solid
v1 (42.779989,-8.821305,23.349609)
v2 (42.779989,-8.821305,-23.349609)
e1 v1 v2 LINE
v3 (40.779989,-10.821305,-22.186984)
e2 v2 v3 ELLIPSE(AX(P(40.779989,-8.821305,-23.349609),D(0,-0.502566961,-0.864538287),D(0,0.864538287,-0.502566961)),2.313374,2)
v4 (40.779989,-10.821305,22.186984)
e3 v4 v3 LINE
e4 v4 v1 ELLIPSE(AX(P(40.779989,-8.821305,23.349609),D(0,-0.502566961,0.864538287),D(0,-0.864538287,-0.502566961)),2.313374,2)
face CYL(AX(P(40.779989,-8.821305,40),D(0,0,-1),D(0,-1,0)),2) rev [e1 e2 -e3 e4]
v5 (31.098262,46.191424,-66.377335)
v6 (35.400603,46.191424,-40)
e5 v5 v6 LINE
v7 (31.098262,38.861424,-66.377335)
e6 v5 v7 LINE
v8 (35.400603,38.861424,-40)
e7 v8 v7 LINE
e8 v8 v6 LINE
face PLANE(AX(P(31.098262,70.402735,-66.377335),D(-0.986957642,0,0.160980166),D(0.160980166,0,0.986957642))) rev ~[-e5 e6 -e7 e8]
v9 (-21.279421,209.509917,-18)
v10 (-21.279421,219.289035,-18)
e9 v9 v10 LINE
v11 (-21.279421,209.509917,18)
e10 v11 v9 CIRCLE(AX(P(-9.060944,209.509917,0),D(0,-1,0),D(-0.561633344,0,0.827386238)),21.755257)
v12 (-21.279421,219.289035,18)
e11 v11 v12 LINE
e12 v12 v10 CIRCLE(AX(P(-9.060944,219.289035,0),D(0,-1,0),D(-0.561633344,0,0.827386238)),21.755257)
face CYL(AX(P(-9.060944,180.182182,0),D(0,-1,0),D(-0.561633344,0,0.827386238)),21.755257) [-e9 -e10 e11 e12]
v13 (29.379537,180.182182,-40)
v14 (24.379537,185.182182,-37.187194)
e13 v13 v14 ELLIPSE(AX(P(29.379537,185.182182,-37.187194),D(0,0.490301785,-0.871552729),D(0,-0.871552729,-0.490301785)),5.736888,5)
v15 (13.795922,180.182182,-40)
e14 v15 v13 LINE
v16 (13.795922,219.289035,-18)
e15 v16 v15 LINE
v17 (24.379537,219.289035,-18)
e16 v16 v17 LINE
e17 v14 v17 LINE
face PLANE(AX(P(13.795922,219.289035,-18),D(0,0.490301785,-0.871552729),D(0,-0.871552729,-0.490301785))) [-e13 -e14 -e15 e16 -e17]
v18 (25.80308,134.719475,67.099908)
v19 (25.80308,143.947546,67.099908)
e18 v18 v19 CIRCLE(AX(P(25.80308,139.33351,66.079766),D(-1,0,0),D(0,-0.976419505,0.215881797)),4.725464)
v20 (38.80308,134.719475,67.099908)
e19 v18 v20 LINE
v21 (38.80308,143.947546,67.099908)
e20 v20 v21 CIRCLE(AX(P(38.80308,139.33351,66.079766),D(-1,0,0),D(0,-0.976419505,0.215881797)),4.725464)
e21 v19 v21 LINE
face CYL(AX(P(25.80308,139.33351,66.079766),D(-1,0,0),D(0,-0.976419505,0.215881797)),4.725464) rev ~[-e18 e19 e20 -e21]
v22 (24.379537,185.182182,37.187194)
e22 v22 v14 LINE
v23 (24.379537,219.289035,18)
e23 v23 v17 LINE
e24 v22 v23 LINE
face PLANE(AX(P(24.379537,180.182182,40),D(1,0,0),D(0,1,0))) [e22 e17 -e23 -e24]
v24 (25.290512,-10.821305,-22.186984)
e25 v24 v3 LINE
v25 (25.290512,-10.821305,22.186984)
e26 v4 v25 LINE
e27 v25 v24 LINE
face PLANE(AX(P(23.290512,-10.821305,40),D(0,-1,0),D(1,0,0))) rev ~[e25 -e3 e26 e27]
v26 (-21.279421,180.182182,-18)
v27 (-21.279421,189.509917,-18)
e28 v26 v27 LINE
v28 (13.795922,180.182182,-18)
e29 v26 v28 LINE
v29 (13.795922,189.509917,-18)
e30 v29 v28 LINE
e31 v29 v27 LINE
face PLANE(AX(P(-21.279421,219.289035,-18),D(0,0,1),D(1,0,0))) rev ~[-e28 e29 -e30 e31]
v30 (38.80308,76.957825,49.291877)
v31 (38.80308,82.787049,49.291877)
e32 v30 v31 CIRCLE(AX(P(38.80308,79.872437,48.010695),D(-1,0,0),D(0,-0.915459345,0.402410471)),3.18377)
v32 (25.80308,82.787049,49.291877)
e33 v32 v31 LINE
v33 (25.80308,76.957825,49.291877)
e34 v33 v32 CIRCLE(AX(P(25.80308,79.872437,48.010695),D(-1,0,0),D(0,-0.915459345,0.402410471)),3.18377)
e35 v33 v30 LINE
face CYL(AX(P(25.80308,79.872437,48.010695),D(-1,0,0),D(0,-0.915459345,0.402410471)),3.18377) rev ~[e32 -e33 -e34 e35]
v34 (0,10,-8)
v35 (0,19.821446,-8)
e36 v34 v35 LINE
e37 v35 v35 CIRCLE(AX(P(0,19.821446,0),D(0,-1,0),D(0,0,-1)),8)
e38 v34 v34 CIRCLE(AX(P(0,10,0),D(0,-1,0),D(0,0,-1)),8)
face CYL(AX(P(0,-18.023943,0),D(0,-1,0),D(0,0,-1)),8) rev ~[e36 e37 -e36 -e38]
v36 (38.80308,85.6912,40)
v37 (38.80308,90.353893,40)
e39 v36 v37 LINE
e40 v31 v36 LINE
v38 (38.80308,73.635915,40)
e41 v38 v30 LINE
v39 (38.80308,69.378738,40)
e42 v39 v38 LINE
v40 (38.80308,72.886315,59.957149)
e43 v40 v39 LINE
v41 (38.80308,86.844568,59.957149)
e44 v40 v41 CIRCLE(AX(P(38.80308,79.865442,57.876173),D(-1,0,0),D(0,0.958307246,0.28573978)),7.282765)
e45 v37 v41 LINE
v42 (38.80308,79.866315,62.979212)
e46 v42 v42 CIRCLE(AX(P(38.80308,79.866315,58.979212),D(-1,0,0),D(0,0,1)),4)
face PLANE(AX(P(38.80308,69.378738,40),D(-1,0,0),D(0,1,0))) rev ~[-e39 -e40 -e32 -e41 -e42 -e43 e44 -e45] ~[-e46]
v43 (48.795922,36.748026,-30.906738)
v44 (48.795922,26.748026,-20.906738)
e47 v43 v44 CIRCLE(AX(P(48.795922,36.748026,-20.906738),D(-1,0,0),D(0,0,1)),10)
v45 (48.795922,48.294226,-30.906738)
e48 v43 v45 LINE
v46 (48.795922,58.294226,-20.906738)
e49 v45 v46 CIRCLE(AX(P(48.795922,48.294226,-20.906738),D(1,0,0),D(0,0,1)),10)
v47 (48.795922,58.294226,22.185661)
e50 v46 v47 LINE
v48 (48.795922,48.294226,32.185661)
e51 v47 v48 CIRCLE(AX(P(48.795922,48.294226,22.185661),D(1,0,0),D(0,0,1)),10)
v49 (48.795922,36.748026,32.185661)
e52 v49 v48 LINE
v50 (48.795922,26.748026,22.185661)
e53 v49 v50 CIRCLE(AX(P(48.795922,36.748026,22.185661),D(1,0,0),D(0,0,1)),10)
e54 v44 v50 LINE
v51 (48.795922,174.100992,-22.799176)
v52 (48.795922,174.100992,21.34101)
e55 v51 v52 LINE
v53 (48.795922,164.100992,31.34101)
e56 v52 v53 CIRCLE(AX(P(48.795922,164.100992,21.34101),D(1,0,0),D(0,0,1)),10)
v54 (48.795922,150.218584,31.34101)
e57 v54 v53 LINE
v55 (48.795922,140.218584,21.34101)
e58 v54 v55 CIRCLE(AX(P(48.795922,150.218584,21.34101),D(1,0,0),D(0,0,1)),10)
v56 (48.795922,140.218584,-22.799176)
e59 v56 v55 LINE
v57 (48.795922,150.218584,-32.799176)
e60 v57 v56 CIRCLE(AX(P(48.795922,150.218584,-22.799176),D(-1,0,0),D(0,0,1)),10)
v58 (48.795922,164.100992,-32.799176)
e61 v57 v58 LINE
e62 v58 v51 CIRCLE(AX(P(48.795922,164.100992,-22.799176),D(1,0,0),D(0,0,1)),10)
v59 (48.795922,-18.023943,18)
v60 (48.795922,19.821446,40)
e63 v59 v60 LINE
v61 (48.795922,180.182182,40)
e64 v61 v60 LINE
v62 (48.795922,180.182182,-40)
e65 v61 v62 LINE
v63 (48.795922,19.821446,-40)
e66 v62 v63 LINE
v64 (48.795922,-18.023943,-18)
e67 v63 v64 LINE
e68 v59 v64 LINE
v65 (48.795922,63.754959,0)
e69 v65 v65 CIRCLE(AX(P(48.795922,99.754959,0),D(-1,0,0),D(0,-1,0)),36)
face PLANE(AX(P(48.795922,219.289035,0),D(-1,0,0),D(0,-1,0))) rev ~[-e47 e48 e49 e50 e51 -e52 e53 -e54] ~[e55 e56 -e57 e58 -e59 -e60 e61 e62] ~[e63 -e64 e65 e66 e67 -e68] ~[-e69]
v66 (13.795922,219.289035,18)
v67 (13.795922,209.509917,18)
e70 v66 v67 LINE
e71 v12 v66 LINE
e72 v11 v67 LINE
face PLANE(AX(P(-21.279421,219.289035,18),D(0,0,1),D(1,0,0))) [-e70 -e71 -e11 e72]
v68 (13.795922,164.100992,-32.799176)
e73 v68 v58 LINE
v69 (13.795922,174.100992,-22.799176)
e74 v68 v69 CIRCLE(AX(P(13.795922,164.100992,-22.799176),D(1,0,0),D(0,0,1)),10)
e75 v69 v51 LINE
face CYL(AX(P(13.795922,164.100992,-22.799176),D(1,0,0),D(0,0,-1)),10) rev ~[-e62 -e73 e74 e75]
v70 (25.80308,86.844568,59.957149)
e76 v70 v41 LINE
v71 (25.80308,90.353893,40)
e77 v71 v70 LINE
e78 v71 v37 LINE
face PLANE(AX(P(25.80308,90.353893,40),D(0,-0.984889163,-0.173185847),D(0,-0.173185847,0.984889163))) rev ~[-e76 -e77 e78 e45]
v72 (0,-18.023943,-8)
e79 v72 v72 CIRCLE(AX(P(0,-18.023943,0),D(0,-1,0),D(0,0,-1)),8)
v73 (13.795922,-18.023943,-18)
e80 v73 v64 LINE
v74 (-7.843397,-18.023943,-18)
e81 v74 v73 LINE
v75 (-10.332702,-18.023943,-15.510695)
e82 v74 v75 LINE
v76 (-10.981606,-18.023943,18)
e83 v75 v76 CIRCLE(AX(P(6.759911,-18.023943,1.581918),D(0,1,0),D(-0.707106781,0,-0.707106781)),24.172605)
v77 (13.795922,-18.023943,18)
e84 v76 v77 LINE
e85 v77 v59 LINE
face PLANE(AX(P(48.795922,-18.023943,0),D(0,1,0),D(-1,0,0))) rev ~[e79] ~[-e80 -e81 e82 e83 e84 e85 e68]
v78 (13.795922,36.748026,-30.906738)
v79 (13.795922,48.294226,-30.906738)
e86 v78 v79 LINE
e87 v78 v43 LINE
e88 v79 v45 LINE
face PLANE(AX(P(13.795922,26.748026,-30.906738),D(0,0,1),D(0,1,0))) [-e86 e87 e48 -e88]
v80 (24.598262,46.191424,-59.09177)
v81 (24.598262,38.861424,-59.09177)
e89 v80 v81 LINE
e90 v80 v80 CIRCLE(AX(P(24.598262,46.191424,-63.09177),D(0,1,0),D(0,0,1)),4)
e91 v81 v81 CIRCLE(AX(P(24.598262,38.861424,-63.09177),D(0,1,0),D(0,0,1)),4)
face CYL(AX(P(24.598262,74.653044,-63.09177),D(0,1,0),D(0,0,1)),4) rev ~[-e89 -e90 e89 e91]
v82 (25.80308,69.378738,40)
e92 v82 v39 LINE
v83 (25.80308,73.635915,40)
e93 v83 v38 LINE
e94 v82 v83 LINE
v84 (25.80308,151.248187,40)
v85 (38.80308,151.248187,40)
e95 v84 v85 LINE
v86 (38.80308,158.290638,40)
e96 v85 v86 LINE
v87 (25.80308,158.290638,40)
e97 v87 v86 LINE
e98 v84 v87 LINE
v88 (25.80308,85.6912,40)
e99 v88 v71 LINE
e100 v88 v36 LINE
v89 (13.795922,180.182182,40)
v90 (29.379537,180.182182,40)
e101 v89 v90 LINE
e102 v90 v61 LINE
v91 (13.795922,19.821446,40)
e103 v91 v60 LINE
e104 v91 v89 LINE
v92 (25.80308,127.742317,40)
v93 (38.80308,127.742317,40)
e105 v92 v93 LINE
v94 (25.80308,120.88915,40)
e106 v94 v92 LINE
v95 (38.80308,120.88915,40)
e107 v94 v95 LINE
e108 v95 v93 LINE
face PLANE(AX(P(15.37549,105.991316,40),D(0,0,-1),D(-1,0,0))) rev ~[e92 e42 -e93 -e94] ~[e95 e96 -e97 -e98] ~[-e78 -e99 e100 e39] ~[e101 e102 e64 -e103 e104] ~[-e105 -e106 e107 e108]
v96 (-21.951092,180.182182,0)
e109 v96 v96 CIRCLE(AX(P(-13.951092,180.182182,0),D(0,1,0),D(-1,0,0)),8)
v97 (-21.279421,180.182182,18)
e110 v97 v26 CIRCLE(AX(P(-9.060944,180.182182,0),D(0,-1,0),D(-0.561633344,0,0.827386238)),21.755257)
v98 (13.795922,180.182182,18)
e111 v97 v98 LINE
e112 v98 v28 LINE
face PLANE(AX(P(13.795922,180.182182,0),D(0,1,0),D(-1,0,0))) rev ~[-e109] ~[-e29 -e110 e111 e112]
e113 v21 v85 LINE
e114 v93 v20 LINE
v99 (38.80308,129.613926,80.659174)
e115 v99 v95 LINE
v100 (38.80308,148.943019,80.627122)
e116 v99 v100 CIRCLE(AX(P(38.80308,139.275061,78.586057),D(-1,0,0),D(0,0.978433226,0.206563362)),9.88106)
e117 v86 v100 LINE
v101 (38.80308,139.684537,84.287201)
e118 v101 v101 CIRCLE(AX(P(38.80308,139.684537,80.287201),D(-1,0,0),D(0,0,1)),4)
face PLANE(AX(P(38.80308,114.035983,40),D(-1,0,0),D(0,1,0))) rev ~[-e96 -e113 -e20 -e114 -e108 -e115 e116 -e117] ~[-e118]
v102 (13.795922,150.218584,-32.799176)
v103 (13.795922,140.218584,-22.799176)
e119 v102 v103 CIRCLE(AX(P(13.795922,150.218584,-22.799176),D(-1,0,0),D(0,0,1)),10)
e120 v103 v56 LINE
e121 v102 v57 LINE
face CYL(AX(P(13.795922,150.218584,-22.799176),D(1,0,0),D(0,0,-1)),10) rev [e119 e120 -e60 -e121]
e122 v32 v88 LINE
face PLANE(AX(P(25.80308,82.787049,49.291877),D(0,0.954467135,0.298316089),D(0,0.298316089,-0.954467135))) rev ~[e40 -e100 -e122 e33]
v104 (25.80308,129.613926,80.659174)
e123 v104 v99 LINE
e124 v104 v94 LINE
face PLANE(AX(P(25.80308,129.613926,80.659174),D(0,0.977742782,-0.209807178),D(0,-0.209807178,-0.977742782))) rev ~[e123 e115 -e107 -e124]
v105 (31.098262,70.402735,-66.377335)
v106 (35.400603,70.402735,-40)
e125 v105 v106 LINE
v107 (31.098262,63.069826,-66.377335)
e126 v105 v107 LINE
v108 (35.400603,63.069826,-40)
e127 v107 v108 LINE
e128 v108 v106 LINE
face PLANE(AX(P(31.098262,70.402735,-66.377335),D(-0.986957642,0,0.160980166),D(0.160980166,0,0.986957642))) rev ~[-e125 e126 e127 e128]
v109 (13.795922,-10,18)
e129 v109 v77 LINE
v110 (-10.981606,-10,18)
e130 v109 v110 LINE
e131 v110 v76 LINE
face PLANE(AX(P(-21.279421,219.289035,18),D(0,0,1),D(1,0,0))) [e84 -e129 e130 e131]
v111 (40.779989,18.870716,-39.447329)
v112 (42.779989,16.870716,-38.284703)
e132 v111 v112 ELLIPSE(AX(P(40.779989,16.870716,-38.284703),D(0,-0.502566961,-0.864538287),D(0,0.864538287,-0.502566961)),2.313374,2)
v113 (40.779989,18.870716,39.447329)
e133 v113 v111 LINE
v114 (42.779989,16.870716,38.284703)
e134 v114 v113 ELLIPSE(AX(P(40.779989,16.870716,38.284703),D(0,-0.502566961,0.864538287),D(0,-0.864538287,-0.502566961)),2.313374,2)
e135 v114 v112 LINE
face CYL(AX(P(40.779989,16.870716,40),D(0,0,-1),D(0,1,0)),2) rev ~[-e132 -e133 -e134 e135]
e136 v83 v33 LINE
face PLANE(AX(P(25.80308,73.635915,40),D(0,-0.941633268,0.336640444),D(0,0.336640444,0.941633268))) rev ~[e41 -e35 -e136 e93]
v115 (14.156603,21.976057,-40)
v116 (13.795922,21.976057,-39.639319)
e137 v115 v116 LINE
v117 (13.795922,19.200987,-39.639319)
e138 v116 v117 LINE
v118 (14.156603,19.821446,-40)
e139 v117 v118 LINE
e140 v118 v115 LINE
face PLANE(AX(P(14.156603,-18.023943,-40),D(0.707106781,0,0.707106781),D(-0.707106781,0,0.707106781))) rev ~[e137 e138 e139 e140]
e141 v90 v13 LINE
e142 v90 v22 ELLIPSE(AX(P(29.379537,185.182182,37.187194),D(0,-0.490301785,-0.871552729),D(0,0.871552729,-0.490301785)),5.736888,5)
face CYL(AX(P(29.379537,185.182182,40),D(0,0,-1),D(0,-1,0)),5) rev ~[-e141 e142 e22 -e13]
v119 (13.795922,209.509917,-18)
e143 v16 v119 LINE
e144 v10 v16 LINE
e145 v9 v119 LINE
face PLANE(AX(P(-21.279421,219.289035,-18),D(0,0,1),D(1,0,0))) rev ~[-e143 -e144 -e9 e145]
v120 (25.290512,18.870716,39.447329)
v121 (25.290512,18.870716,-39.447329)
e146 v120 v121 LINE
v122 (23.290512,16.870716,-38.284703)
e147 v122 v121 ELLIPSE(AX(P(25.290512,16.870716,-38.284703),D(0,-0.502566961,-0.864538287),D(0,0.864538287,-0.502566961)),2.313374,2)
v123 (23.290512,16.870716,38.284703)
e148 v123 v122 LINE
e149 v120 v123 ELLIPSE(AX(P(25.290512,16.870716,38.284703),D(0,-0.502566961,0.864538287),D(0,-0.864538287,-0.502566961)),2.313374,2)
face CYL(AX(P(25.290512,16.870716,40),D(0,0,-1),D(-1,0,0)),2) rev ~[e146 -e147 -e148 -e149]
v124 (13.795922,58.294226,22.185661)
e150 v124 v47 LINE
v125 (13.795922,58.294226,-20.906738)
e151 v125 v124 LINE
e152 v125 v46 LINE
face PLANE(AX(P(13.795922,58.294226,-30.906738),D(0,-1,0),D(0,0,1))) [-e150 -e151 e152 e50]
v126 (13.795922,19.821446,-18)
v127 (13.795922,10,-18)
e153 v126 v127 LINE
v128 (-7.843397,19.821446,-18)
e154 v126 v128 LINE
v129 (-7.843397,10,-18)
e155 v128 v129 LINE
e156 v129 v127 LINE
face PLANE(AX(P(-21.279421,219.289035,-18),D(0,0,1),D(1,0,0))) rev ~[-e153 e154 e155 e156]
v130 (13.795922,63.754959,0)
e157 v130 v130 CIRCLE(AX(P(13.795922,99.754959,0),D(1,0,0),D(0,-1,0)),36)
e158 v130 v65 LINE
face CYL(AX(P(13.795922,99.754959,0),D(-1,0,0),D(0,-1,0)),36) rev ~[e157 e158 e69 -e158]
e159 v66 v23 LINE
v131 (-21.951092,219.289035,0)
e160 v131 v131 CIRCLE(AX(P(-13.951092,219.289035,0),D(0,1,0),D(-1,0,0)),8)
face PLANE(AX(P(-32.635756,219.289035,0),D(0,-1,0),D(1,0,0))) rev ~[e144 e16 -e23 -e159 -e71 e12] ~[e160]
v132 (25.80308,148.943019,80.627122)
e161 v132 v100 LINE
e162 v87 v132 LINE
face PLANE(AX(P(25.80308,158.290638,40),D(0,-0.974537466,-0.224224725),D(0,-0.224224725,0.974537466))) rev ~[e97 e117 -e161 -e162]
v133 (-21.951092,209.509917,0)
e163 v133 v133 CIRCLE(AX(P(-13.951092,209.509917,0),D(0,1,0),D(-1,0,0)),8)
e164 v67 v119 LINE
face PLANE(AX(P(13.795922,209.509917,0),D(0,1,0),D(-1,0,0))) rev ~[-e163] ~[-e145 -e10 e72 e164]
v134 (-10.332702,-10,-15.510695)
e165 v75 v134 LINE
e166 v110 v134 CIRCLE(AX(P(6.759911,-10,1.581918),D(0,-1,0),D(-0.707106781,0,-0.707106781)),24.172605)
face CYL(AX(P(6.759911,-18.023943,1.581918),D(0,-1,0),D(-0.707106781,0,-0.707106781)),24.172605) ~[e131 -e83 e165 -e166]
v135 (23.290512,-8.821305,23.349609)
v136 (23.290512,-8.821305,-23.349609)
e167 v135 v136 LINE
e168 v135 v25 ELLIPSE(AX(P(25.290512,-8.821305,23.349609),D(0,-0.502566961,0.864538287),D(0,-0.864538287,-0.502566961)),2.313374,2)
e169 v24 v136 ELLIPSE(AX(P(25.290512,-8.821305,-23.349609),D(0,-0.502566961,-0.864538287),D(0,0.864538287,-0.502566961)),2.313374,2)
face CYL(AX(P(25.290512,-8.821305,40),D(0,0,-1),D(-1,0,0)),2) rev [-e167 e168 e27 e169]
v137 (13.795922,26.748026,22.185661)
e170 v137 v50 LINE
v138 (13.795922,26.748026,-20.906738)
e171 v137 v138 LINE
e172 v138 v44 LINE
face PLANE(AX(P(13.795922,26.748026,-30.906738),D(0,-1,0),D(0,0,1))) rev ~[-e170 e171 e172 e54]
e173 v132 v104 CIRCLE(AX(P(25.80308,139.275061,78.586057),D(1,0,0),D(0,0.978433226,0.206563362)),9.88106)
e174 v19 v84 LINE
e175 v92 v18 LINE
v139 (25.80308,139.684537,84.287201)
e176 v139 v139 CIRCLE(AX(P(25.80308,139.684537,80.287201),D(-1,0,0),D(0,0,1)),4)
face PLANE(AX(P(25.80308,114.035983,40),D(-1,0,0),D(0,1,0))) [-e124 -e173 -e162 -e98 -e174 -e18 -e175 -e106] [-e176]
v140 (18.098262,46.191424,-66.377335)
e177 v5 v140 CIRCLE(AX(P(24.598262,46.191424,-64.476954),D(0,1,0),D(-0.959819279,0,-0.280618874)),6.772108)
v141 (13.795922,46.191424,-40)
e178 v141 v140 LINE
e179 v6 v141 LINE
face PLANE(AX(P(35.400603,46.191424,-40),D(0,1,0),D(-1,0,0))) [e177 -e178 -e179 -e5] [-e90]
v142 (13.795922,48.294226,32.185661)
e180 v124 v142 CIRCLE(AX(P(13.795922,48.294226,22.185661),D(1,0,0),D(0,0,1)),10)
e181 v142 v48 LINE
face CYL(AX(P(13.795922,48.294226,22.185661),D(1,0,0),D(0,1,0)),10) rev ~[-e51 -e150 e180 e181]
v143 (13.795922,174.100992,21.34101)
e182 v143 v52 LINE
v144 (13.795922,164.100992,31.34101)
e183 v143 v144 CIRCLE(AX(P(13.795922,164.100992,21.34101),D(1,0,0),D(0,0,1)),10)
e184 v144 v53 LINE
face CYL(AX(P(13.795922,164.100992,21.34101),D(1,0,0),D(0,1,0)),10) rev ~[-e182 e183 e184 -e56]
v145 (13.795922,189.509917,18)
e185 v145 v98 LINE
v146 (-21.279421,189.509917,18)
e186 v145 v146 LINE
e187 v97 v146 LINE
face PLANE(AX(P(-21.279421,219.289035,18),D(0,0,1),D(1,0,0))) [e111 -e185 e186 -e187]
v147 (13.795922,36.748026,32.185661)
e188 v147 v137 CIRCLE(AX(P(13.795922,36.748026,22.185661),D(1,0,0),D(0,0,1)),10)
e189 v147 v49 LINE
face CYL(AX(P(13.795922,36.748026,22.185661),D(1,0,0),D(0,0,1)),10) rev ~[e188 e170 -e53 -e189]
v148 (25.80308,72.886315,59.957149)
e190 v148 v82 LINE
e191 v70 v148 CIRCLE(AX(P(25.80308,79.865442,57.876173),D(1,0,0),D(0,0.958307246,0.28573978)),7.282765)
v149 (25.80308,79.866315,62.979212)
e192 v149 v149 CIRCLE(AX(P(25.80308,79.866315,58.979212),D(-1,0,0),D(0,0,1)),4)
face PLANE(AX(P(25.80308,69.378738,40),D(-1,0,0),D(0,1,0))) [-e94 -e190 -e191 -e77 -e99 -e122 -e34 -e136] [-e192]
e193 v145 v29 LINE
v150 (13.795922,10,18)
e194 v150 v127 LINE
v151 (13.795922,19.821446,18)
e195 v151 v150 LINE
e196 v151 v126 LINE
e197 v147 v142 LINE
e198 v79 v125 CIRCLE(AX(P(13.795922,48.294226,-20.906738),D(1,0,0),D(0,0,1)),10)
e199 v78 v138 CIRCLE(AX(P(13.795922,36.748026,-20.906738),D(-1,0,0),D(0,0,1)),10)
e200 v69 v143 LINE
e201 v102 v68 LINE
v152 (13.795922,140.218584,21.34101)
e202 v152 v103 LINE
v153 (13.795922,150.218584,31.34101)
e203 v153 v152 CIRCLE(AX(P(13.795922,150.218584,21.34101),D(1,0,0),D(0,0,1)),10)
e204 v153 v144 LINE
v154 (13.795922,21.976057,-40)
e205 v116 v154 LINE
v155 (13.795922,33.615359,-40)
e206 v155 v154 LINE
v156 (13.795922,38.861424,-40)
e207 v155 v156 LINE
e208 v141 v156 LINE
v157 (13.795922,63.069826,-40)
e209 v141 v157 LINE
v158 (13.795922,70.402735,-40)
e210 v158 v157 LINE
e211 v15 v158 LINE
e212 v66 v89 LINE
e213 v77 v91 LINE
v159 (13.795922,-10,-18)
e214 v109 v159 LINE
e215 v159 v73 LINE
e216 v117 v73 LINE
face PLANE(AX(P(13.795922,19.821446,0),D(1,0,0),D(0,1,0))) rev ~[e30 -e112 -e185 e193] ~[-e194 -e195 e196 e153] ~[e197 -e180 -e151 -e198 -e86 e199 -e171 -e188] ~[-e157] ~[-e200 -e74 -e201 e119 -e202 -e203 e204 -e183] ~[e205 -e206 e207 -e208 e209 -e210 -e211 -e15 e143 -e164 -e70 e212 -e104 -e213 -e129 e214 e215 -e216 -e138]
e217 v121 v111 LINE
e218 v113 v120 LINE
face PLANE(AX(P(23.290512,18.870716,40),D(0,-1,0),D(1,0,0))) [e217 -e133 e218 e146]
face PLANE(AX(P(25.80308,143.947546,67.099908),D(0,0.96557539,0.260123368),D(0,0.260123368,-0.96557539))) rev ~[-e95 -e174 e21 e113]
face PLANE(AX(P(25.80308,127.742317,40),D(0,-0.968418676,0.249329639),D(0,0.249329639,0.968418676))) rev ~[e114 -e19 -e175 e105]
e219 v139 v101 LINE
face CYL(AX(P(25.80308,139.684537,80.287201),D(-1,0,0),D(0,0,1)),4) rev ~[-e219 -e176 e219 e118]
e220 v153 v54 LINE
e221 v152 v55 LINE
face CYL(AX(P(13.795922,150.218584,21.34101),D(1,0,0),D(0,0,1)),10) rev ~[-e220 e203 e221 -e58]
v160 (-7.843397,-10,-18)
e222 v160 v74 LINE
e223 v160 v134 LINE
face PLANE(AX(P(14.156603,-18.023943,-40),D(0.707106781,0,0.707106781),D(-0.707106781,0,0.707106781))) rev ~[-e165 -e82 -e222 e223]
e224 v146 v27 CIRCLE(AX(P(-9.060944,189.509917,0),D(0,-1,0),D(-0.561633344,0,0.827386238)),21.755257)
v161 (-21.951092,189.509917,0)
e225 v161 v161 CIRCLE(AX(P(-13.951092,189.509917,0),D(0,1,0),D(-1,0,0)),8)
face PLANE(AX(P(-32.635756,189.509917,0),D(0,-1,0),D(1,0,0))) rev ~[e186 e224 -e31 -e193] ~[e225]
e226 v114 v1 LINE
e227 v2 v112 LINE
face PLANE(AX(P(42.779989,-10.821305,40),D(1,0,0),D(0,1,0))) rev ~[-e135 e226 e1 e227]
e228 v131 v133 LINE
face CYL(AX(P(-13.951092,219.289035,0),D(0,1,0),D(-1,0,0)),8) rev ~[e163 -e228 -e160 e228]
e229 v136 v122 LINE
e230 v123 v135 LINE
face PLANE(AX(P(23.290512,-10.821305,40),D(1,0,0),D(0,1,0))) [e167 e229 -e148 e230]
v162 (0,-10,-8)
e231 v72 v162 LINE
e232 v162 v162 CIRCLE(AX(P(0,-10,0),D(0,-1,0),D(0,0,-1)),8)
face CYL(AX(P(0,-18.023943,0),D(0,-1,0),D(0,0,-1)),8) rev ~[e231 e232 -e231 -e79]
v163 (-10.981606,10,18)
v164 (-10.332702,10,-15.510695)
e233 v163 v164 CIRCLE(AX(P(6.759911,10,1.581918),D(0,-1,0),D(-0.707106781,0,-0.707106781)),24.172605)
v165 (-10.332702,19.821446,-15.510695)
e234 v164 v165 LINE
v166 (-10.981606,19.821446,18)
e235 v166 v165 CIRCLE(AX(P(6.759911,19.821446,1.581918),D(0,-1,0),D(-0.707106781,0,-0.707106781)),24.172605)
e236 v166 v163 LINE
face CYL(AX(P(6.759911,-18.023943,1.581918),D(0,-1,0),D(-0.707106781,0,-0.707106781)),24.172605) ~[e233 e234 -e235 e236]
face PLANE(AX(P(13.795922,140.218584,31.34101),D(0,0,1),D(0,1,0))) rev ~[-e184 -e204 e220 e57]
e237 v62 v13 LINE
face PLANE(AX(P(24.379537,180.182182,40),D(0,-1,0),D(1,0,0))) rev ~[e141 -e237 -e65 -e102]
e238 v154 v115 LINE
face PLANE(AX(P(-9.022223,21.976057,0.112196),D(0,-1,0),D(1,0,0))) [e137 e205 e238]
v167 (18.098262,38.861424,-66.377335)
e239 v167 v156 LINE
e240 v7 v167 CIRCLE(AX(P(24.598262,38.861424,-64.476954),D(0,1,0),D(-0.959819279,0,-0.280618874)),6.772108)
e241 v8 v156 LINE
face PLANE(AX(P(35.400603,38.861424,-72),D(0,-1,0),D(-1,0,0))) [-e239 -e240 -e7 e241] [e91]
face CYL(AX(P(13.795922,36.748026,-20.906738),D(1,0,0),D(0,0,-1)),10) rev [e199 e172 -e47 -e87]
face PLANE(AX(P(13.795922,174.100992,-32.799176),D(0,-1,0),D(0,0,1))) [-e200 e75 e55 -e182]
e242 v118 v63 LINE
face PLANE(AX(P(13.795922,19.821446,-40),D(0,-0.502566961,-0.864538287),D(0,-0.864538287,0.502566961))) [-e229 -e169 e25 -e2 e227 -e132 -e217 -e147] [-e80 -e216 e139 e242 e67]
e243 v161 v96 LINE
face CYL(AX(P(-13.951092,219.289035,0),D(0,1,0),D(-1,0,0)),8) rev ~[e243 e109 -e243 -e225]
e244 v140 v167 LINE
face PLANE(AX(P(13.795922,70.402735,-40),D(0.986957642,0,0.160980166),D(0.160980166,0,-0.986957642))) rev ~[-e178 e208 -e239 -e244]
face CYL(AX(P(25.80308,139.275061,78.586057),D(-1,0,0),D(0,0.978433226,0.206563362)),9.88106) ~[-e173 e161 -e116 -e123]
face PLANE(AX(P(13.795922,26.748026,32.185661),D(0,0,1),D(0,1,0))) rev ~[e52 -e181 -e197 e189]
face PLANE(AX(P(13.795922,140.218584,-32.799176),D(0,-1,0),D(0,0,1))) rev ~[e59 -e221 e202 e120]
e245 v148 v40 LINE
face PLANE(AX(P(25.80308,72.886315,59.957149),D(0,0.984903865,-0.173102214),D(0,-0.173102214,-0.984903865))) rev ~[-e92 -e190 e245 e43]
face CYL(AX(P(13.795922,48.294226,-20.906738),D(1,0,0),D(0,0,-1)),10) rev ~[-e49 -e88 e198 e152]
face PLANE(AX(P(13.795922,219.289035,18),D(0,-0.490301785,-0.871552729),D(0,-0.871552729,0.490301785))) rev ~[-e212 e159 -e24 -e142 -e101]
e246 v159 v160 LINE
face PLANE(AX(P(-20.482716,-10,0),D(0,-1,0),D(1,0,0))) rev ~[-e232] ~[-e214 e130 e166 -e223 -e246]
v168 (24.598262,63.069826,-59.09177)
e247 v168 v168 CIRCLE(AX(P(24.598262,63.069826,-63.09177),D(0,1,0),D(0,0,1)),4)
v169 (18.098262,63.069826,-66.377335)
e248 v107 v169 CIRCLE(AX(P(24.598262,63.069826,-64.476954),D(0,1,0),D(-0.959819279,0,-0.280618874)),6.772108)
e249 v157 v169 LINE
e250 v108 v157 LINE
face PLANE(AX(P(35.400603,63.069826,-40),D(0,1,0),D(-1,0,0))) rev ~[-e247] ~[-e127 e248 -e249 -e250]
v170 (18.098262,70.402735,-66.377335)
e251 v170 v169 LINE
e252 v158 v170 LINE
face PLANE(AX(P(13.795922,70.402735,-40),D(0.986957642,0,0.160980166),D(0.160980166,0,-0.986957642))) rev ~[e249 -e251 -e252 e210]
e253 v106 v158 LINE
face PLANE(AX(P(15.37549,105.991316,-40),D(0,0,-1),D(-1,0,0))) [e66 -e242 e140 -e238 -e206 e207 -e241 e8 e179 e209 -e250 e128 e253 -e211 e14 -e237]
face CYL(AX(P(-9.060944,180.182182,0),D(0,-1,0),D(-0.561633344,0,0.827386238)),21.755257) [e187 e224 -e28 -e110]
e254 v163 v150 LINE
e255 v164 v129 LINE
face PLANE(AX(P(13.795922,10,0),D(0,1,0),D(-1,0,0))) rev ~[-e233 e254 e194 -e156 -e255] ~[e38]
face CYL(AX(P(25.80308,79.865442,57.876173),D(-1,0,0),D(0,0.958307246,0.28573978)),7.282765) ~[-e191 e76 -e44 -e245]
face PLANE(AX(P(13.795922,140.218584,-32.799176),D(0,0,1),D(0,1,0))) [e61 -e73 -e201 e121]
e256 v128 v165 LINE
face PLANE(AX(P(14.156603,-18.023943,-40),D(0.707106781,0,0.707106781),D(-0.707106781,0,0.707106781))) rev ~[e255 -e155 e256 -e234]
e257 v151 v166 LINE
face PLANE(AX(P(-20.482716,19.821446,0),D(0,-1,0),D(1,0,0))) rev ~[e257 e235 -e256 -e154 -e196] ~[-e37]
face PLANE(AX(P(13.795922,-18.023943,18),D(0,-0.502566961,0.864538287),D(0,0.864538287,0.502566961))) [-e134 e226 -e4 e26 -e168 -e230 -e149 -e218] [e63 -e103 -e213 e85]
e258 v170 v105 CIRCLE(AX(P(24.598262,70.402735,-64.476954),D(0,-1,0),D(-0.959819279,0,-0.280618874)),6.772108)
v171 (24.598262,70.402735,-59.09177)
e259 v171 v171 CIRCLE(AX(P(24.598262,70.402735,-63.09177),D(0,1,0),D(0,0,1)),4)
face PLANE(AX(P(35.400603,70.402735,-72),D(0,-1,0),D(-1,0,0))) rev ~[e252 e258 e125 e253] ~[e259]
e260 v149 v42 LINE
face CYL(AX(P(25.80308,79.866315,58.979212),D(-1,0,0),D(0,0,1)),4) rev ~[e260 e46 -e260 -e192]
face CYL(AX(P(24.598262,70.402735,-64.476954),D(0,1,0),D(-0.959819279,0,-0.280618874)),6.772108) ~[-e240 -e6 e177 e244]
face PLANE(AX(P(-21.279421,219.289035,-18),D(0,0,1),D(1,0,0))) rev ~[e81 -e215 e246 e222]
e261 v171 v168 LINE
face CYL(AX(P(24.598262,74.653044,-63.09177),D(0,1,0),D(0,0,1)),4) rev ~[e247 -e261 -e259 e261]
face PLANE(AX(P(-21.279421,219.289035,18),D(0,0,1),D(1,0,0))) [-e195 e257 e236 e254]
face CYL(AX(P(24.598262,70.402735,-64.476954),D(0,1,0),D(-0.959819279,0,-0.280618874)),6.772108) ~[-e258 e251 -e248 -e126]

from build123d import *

# Parameters (mm, degrees)
BOSS_EXTRUDE1_DEPTH            = 40
CUT_EXTRUDE1_REACH             = 247.558
SKETCH3_R                      = 8
CUT_EXTRUDE1_DIRECTION_2_DEPTH = 246.557512105
CUT_EXTRUDE2_REACH             = 247.558
SKETCH5_R                      = 8
SKETCH7_R                      = 36
CUT_EXTRUDE3_DEPTH             = 35
SKETCH8_W                      = 21.604680843
SKETCH8_H                      = 11.583217502
SKETCH8_H_2                    = 12.576064717
BOSS_EXTRUDE3_DEPTH            = 32
CUT_EXTRUDE4_REACH             = 170.774
SKETCH9_R                      = 4
SKETCH10_W                     = 13
SKETCH10_H                     = 51.29710608
SKETCH10_H_2                   = 20.975155012
BOSS_EXTRUDE4_DEPTH            = 50
SKETCH11_R                     = 4
CUT_EXTRUDE5_DEPTH             = 50
CUT_EXTRUDE7_DEPTH             = 245.136802941
SKETCH15_W                     = 21.604680843
SKETCH15_H                     = 4.250308509
SKETCH15_H_2                   = 5.246064717
CUT_EXTRUDE8_DEPTH             = 32
CUT_EXTRUDE11_DEPTH            = 245.136802941
CUT_EXTRUDE12_DEPTH            = 245.136802941
SKETCH21_W                     = 24.416384629
SKETCH21_H                     = 39.106853427
CUT_EXTRUDE13_DEPTH            = 252.023351524
FILLET1_R                      = 5
SKETCH28_W                     = 19.48947631
SKETCH28_H                     = 29.692020957
CUT_EXTRUDE17_DEPTH            = 252.023351524
CUT_EXTRUDE19_DEPTH            = 40
CUT_EXTRUDE20_DEPTH            = 40
FILLET4_R                      = 2
CUT_EXTRUDE21_DEPTH            = 40
SKETCH35_W                     = 64.140186451
SKETCH35_H                     = 33.882408076
CUT_EXTRUDE25_DEPTH            = 241.633233856
FILLET5_R                      = 10
SKETCH36_W                     = 63.092398873
SKETCH36_H                     = 31.546199436
CUT_EXTRUDE26_DEPTH            = 241.633233856
FILLET6_R                      = 10
CUT_EXTRUDE27_DEPTH            = 258.924257322
CUT_EXTRUDE29_DEPTH            = 241.633233856
CUT_EXTRUDE32_DEPTH            = 241.633233856


with BuildPart() as part:
    # Sketch1 → Boss-Extrude1 (new, symmetric)
    with BuildSketch(Plane.XY):
        Polygon((48.795922062, 219.289035295), (48.795922062, -18.023943156), (-20.482716366, -18.023943156), (-20.482716366, -10), (13.795922062, -10), (13.795922062, 10), (-20.482716366, 10), (-20.482716366, 19.821446156), (13.795922062, 19.821446156), (13.795922062, 180.182181868), (-32.635756138, 180.182181868), (-32.635756138, 189.509917116), (13.795922062, 189.509917116), (13.795922062, 209.509917116), (-32.635756138, 209.509917116), (-32.635756138, 219.289035295), align=None)
    extrude(amount=BOSS_EXTRUDE1_DEPTH, both=True)

    # Cut-Extrude1: up to this face of the body (flat: up to its plane)
    cut_extrude1_end = Plane(part.part.faces().sort_by_distance((-9.419917038, 180.182181868, 0))[0])
    # Sketch3 → Cut-Extrude1 (cut, up to the picked face)
    with BuildSketch(Plane(origin=(0, 219.289035295, 0), x_dir=(1, 0, 0), z_dir=(0, 1, 0)), mode=Mode.PRIVATE) as cut_extrude1_sk1:
        with Locations(Location((-13.951092455, 0, 0), (0, 0, 180))):
            Circle(SKETCH3_R)
    cut_extrude1_tool1 = split(extrude(cut_extrude1_sk1.sketch, amount=-CUT_EXTRUDE1_REACH, mode=Mode.PRIVATE), bisect_by=cut_extrude1_end, keep=Keep.BOTH, mode=Mode.PRIVATE)
    add(cut_extrude1_tool1.solids().sort_by(Axis((-13.951092, 219.289035, 0), (0, -1, 0)))[0], mode=Mode.SUBTRACT)

    # Sketch3 → Cut-Extrude1 direction 2 (cut)
    with BuildSketch(Plane(origin=(0, 219.289035295, 0), x_dir=(1, 0, 0), z_dir=(0, 1, 0))):
        with Locations(Location((-13.951092455, 0, 0), (0, 0, 180))):
            Circle(SKETCH3_R)
    extrude(amount=CUT_EXTRUDE1_DIRECTION_2_DEPTH, mode=Mode.SUBTRACT)

    # Cut-Extrude2: up to this face of the body (flat: up to its plane)
    cut_extrude2_end = Plane(part.part.faces().sort_by_distance((-3.343397152, 19.821446156, 0))[0])
    # Sketch5 → Cut-Extrude2 (cut, up to the picked face)
    with BuildSketch(Plane(origin=(0, -18.023943156, 0), x_dir=(-1, 0, 0), z_dir=(0, -1, 0)), mode=Mode.PRIVATE) as cut_extrude2_sk1:
        with Locations(Location((0, 0, 0), (0, 0, 90))):
            Circle(SKETCH5_R)
    cut_extrude2_tool1 = split(extrude(cut_extrude2_sk1.sketch, amount=-CUT_EXTRUDE2_REACH, mode=Mode.PRIVATE), bisect_by=cut_extrude2_end, keep=Keep.BOTH, mode=Mode.PRIVATE)
    add(cut_extrude2_tool1.solids().sort_by(Axis((0, -18.023943, 0), (0, 1, 0)))[0], mode=Mode.SUBTRACT)

    # Sketch7 → Cut-Extrude3 (cut)
    with BuildSketch(Plane.ZY.offset(-13.795922062)):
        with Locations(Location((0, 99.754958558, 0), (0, 0, 270))):
            Circle(SKETCH7_R)
    extrude(amount=-CUT_EXTRUDE3_DEPTH, mode=Mode.SUBTRACT)

    # Sketch8 → Boss-Extrude3 (add)
    with BuildSketch(Plane(origin=(0, 0, -40), x_dir=(-1, 0, 0), z_dir=(0, 0, -1))):
        with Locations((-24.598262484, 68.861435207)):
            Rectangle(SKETCH8_W, SKETCH8_H)
        with Locations((-24.598262484, 39.903391451)):
            Rectangle(SKETCH8_W, SKETCH8_H_2)
    extrude(amount=BOSS_EXTRUDE3_DEPTH)

    # Cut-Extrude4: up to this face of the body (flat: up to its plane)
    cut_extrude4_end = Plane(part.part.faces().sort_by_distance((24.598262483, 33.615359093, -56))[0])
    # Sketch9 → Cut-Extrude4 (cut, up to the picked face)
    with BuildSketch(Plane(origin=(0, 74.653043958, 0), x_dir=(1, 0, 0), z_dir=(0, 1, 0)), mode=Mode.PRIVATE) as cut_extrude4_sk1:
        with Locations(Location((24.598262483, 63.091770197, 0), (0, 0, 270))):
            Circle(SKETCH9_R)
    cut_extrude4_tool1 = split(extrude(cut_extrude4_sk1.sketch, amount=-CUT_EXTRUDE4_REACH, mode=Mode.PRIVATE), bisect_by=cut_extrude4_end, keep=Keep.BOTH, mode=Mode.PRIVATE)
    add(cut_extrude4_tool1.solids().sort_by(Axis((24.598262, 74.653044, -63.09177), (0, -1, 0)))[0], mode=Mode.SUBTRACT)

    # Sketch10 → Boss-Extrude4 (add)
    with BuildSketch(Plane.XY.offset(40)):
        with Locations((32.303079831, 139.684536505)):
            Rectangle(SKETCH10_W, SKETCH10_H)
        with Locations((32.303079831, 79.86631507)):
            Rectangle(SKETCH10_W, SKETCH10_H_2)
    extrude(amount=BOSS_EXTRUDE4_DEPTH)

    # Sketch11 → Cut-Extrude5 (cut)
    with BuildSketch(Plane.ZY.offset(-25.803079831)):
        with Locations((80.287201061, 139.684536505)):
            Circle(SKETCH11_R)
        with Locations((58.979212318, 79.86631507)):
            Circle(SKETCH11_R)
    extrude(amount=-CUT_EXTRUDE5_DEPTH, mode=Mode.SUBTRACT)

    # Sketch14 → Cut-Extrude7 (cut, through all)
    with BuildSketch(Plane.ZY.offset(-25.803079831)):
        with BuildLine():
            Line((40, 90.353892576), (59.957148772, 86.844568036))
            ThreePointArc((59.957148772, 86.844568036), (65.158938112, 79.865441553), (59.957148772, 72.88631507))
            Line((59.957148772, 72.88631507), (40, 69.378737564))
            Line((40, 69.378737564), (90, 69.378737564))
            Line((90, 69.378737564), (90, 90.353892576))
            Line((90, 90.353892576), (40, 90.353892576))
        make_face()
    extrude(amount=-CUT_EXTRUDE7_DEPTH, mode=Mode.SUBTRACT)

    # Sketch15 → Cut-Extrude8 (cut)
    with BuildSketch(Plane(origin=(0, 0, -72), x_dir=(-1, 0, 0), z_dir=(0, 0, -1))):
        with Locations((-24.598262484, 72.527889703)):
            Rectangle(SKETCH15_W, SKETCH15_H)
        with Locations((-24.598262484, 36.238391452)):
            Rectangle(SKETCH15_W, SKETCH15_H_2)
    extrude(amount=-CUT_EXTRUDE8_DEPTH, mode=Mode.SUBTRACT)

    # Sketch19 → Cut-Extrude11 (cut, through all)
    with BuildSketch(Plane.ZY.offset(-25.803079831)):
        with BuildLine():
            Line((40, 151.248187017), (40, 127.742316887))
            Line((40, 127.742316887), (67.099908124, 134.719475081))
            ThreePointArc((67.099908124, 134.719475081), (70.80523062, 139.333510496), (67.099908124, 143.947545912))
            Line((67.099908124, 143.947545912), (40, 151.248187017))
        make_face()
        with BuildLine():
            Line((40, 85.691199656), (40, 73.635914702))
            Line((40, 73.635914702), (49.291876994, 76.957825363))
            ThreePointArc((49.291876994, 76.957825363), (51.194464474, 79.872437157), (49.291876994, 82.787048951))
            Line((49.291876994, 82.787048951), (40, 85.691199656))
        make_face()
    extrude(amount=-CUT_EXTRUDE11_DEPTH, mode=Mode.SUBTRACT)

    # Sketch20 → Cut-Extrude12 (cut, through all)
    with BuildSketch(Plane.ZY.offset(-25.803079831)):
        with BuildLine():
            Line((40, 158.290638281), (80.627121599, 148.943019033))
            ThreePointArc((80.627121599, 148.943019033), (88.467103267, 139.291446527), (80.659173946, 129.613925972))
            Line((80.659173946, 129.613925972), (40, 120.889150176))
            Line((40, 120.889150176), (40, 114.035983465))
            Line((40, 114.035983465), (90, 114.035983465))
            Line((90, 114.035983465), (90, 165.333089545))
            Line((90, 165.333089545), (40, 165.333089545))
            Line((40, 165.333089545), (40, 158.290638281))
        make_face()
    extrude(amount=-CUT_EXTRUDE12_DEPTH, mode=Mode.SUBTRACT)

    # Sketch21 → Cut-Extrude13 (cut, through all)
    with BuildSketch(Plane.XY.offset(40)):
        with Locations((36.587729748, 199.735608582)):
            Rectangle(SKETCH21_W, SKETCH21_H)
    extrude(amount=-CUT_EXTRUDE13_DEPTH, mode=Mode.SUBTRACT)

    # Fillet1
    fillet1_edges = [part.edges().sort_by_distance(p)[0] for p in [
        (24.379537433, 180.182181868, 0),
    ]]
    fillet(fillet1_edges, radius=FILLET1_R)

    # Sketch28 → Cut-Extrude17 (cut, through all)
    with BuildSketch(Plane.XY.offset(40)):
        with Locations((33.03525061, 4.024705442)):
            Rectangle(SKETCH28_W, SKETCH28_H)
    extrude(amount=-CUT_EXTRUDE17_DEPTH, mode=Mode.SUBTRACT)

    # Sketch30 → Cut-Extrude19 (cut)
    with BuildSketch(Plane.XZ.offset(18.023943156)):
        with BuildLine():
            Line((14.156602848, -40), (-10.332701858, -15.510695295))
            ThreePointArc((-10.332701858, -15.510695295), (-17.412694024, 1.581917814), (-10.332701858, 18.674530923))
            Line((-10.332701858, 18.674530923), (13.795922062, 40))
            Line((13.795922062, 40), (-20.482716366, 40))
            Line((-20.482716366, 40), (-20.482716366, -40))
            Line((-20.482716366, -40), (14.156602848, -40))
        make_face()
    extrude(amount=-CUT_EXTRUDE19_DEPTH, mode=Mode.SUBTRACT)

    # Sketch31 → Cut-Extrude20 (cut)
    with BuildSketch(Plane.XZ.offset(-180.182181868)):
        with BuildLine():
            Line((13.795922062, 40), (-21.279421272, 18))
            ThreePointArc((-21.279421272, 18), (-30.816200409, 0), (-21.279421272, -18))
            Line((-21.279421272, -18), (13.795922062, -40))
            Line((13.795922062, -40), (-32.635756138, -40))
            Line((-32.635756138, -40), (-32.635756138, 40))
            Line((-32.635756138, 40), (13.795922062, 40))
        make_face()
    extrude(amount=-CUT_EXTRUDE20_DEPTH, mode=Mode.SUBTRACT)

    # Fillet4
    fillet4_edges = [part.edges().sort_by_distance(p)[0] for p in [
        (23.290512455, 18.87071592, 0),
        (42.779988765, 18.87071592, 0),
        (42.779988765, -10.821305037, 0),
        (23.290512455, -10.821305037, 0),
    ]]
    fillet(fillet4_edges, radius=FILLET4_R)

    # Sketch32 → Cut-Extrude21 (cut)
    with BuildSketch(Plane(origin=(0, 70.402735449, 0), x_dir=(1, 0, 0), z_dir=(0, 1, 0))):
        with BuildLine():
            Line((13.795922062, 40), (18.098262483, 66.377334942))
            ThreePointArc((18.098262483, 66.377334942), (24.598262483, 71.24906176), (31.098262483, 66.377334942))
            Line((31.098262483, 66.377334942), (35.400602905, 40))
            Line((35.400602905, 40), (35.400602905, 72))
            Line((35.400602905, 72), (13.795922062, 72))
            Line((13.795922062, 72), (13.795922062, 40))
        make_face()
    extrude(amount=-CUT_EXTRUDE21_DEPTH, mode=Mode.SUBTRACT)

    # Sketch35 → Cut-Extrude25 (cut, through all)
    with BuildSketch(Plane.ZY.offset(-13.795922062)):
        with Locations((-0.729083146, 157.159788045)):
            Rectangle(SKETCH35_W, SKETCH35_H)
    extrude(amount=-CUT_EXTRUDE25_DEPTH, mode=Mode.SUBTRACT)

    # Fillet5
    fillet5_edges = [part.edges().sort_by_distance(p)[0] for p in [
        (31.295922062, 140.218584007, -32.799176371),
        (31.295922062, 174.100992083, -32.799176371),
        (31.295922062, 174.100992083, 31.34101008),
        (31.295922062, 140.218584007, 31.34101008),
    ]]
    fillet(fillet5_edges, radius=FILLET5_R)

    # Sketch36 → Cut-Extrude26 (cut, through all)
    with BuildSketch(Plane.ZY.offset(-13.795922062)):
        with Locations((0.639461373, 42.521126055)):
            Rectangle(SKETCH36_W, SKETCH36_H)
    extrude(amount=-CUT_EXTRUDE26_DEPTH, mode=Mode.SUBTRACT)

    # Fillet6
    fillet6_edges = [part.edges().sort_by_distance(p)[0] for p in [
        (31.295922062, 26.748026337, -30.906738064),
        (31.295922062, 58.294225773, -30.906738064),
        (31.295922062, 58.294225773, 32.185660809),
        (31.295922062, 26.748026337, 32.185660809),
    ]]
    fillet(fillet6_edges, radius=FILLET6_R)

    # Sketch37 → Cut-Extrude27 (cut, through all)
    with BuildSketch(Plane(origin=(0, 219.289035295, 0), x_dir=(1, 0, 0), z_dir=(0, 1, 0))):
        Polygon((-21.279421272, 18), (13.795922062, 18), (13.795922062, 40), align=None)
        Polygon((-21.279421272, -18), (13.795922062, -18), (13.795922062, -40), align=None)
    extrude(amount=-CUT_EXTRUDE27_DEPTH, mode=Mode.SUBTRACT)

    # Sketch38 → Cut-Extrude29 (cut, through all)
    with BuildSketch(Plane.ZY.offset(-13.795922062)):
        Polygon((-40, 180.182181868), (-40, 219.289035295), (-18, 219.289035295), align=None)
        Polygon((40, 180.182181868), (40, 219.289035295), (18, 219.289035295), align=None)
    extrude(amount=-CUT_EXTRUDE29_DEPTH, mode=Mode.SUBTRACT)

    # Sketch39 → Cut-Extrude32 (cut, through all)
    with BuildSketch(Plane.ZY.offset(-13.795922062)):
        Polygon((40, 19.821446156), (40, -18.023943156), (18, -18.023943156), align=None)
        Polygon((-18, -18.023943156), (-40, -18.023943156), (-40, 19.821446156), align=None)
    extrude(amount=-CUT_EXTRUDE32_DEPTH, mode=Mode.SUBTRACT)


solid = part.part
